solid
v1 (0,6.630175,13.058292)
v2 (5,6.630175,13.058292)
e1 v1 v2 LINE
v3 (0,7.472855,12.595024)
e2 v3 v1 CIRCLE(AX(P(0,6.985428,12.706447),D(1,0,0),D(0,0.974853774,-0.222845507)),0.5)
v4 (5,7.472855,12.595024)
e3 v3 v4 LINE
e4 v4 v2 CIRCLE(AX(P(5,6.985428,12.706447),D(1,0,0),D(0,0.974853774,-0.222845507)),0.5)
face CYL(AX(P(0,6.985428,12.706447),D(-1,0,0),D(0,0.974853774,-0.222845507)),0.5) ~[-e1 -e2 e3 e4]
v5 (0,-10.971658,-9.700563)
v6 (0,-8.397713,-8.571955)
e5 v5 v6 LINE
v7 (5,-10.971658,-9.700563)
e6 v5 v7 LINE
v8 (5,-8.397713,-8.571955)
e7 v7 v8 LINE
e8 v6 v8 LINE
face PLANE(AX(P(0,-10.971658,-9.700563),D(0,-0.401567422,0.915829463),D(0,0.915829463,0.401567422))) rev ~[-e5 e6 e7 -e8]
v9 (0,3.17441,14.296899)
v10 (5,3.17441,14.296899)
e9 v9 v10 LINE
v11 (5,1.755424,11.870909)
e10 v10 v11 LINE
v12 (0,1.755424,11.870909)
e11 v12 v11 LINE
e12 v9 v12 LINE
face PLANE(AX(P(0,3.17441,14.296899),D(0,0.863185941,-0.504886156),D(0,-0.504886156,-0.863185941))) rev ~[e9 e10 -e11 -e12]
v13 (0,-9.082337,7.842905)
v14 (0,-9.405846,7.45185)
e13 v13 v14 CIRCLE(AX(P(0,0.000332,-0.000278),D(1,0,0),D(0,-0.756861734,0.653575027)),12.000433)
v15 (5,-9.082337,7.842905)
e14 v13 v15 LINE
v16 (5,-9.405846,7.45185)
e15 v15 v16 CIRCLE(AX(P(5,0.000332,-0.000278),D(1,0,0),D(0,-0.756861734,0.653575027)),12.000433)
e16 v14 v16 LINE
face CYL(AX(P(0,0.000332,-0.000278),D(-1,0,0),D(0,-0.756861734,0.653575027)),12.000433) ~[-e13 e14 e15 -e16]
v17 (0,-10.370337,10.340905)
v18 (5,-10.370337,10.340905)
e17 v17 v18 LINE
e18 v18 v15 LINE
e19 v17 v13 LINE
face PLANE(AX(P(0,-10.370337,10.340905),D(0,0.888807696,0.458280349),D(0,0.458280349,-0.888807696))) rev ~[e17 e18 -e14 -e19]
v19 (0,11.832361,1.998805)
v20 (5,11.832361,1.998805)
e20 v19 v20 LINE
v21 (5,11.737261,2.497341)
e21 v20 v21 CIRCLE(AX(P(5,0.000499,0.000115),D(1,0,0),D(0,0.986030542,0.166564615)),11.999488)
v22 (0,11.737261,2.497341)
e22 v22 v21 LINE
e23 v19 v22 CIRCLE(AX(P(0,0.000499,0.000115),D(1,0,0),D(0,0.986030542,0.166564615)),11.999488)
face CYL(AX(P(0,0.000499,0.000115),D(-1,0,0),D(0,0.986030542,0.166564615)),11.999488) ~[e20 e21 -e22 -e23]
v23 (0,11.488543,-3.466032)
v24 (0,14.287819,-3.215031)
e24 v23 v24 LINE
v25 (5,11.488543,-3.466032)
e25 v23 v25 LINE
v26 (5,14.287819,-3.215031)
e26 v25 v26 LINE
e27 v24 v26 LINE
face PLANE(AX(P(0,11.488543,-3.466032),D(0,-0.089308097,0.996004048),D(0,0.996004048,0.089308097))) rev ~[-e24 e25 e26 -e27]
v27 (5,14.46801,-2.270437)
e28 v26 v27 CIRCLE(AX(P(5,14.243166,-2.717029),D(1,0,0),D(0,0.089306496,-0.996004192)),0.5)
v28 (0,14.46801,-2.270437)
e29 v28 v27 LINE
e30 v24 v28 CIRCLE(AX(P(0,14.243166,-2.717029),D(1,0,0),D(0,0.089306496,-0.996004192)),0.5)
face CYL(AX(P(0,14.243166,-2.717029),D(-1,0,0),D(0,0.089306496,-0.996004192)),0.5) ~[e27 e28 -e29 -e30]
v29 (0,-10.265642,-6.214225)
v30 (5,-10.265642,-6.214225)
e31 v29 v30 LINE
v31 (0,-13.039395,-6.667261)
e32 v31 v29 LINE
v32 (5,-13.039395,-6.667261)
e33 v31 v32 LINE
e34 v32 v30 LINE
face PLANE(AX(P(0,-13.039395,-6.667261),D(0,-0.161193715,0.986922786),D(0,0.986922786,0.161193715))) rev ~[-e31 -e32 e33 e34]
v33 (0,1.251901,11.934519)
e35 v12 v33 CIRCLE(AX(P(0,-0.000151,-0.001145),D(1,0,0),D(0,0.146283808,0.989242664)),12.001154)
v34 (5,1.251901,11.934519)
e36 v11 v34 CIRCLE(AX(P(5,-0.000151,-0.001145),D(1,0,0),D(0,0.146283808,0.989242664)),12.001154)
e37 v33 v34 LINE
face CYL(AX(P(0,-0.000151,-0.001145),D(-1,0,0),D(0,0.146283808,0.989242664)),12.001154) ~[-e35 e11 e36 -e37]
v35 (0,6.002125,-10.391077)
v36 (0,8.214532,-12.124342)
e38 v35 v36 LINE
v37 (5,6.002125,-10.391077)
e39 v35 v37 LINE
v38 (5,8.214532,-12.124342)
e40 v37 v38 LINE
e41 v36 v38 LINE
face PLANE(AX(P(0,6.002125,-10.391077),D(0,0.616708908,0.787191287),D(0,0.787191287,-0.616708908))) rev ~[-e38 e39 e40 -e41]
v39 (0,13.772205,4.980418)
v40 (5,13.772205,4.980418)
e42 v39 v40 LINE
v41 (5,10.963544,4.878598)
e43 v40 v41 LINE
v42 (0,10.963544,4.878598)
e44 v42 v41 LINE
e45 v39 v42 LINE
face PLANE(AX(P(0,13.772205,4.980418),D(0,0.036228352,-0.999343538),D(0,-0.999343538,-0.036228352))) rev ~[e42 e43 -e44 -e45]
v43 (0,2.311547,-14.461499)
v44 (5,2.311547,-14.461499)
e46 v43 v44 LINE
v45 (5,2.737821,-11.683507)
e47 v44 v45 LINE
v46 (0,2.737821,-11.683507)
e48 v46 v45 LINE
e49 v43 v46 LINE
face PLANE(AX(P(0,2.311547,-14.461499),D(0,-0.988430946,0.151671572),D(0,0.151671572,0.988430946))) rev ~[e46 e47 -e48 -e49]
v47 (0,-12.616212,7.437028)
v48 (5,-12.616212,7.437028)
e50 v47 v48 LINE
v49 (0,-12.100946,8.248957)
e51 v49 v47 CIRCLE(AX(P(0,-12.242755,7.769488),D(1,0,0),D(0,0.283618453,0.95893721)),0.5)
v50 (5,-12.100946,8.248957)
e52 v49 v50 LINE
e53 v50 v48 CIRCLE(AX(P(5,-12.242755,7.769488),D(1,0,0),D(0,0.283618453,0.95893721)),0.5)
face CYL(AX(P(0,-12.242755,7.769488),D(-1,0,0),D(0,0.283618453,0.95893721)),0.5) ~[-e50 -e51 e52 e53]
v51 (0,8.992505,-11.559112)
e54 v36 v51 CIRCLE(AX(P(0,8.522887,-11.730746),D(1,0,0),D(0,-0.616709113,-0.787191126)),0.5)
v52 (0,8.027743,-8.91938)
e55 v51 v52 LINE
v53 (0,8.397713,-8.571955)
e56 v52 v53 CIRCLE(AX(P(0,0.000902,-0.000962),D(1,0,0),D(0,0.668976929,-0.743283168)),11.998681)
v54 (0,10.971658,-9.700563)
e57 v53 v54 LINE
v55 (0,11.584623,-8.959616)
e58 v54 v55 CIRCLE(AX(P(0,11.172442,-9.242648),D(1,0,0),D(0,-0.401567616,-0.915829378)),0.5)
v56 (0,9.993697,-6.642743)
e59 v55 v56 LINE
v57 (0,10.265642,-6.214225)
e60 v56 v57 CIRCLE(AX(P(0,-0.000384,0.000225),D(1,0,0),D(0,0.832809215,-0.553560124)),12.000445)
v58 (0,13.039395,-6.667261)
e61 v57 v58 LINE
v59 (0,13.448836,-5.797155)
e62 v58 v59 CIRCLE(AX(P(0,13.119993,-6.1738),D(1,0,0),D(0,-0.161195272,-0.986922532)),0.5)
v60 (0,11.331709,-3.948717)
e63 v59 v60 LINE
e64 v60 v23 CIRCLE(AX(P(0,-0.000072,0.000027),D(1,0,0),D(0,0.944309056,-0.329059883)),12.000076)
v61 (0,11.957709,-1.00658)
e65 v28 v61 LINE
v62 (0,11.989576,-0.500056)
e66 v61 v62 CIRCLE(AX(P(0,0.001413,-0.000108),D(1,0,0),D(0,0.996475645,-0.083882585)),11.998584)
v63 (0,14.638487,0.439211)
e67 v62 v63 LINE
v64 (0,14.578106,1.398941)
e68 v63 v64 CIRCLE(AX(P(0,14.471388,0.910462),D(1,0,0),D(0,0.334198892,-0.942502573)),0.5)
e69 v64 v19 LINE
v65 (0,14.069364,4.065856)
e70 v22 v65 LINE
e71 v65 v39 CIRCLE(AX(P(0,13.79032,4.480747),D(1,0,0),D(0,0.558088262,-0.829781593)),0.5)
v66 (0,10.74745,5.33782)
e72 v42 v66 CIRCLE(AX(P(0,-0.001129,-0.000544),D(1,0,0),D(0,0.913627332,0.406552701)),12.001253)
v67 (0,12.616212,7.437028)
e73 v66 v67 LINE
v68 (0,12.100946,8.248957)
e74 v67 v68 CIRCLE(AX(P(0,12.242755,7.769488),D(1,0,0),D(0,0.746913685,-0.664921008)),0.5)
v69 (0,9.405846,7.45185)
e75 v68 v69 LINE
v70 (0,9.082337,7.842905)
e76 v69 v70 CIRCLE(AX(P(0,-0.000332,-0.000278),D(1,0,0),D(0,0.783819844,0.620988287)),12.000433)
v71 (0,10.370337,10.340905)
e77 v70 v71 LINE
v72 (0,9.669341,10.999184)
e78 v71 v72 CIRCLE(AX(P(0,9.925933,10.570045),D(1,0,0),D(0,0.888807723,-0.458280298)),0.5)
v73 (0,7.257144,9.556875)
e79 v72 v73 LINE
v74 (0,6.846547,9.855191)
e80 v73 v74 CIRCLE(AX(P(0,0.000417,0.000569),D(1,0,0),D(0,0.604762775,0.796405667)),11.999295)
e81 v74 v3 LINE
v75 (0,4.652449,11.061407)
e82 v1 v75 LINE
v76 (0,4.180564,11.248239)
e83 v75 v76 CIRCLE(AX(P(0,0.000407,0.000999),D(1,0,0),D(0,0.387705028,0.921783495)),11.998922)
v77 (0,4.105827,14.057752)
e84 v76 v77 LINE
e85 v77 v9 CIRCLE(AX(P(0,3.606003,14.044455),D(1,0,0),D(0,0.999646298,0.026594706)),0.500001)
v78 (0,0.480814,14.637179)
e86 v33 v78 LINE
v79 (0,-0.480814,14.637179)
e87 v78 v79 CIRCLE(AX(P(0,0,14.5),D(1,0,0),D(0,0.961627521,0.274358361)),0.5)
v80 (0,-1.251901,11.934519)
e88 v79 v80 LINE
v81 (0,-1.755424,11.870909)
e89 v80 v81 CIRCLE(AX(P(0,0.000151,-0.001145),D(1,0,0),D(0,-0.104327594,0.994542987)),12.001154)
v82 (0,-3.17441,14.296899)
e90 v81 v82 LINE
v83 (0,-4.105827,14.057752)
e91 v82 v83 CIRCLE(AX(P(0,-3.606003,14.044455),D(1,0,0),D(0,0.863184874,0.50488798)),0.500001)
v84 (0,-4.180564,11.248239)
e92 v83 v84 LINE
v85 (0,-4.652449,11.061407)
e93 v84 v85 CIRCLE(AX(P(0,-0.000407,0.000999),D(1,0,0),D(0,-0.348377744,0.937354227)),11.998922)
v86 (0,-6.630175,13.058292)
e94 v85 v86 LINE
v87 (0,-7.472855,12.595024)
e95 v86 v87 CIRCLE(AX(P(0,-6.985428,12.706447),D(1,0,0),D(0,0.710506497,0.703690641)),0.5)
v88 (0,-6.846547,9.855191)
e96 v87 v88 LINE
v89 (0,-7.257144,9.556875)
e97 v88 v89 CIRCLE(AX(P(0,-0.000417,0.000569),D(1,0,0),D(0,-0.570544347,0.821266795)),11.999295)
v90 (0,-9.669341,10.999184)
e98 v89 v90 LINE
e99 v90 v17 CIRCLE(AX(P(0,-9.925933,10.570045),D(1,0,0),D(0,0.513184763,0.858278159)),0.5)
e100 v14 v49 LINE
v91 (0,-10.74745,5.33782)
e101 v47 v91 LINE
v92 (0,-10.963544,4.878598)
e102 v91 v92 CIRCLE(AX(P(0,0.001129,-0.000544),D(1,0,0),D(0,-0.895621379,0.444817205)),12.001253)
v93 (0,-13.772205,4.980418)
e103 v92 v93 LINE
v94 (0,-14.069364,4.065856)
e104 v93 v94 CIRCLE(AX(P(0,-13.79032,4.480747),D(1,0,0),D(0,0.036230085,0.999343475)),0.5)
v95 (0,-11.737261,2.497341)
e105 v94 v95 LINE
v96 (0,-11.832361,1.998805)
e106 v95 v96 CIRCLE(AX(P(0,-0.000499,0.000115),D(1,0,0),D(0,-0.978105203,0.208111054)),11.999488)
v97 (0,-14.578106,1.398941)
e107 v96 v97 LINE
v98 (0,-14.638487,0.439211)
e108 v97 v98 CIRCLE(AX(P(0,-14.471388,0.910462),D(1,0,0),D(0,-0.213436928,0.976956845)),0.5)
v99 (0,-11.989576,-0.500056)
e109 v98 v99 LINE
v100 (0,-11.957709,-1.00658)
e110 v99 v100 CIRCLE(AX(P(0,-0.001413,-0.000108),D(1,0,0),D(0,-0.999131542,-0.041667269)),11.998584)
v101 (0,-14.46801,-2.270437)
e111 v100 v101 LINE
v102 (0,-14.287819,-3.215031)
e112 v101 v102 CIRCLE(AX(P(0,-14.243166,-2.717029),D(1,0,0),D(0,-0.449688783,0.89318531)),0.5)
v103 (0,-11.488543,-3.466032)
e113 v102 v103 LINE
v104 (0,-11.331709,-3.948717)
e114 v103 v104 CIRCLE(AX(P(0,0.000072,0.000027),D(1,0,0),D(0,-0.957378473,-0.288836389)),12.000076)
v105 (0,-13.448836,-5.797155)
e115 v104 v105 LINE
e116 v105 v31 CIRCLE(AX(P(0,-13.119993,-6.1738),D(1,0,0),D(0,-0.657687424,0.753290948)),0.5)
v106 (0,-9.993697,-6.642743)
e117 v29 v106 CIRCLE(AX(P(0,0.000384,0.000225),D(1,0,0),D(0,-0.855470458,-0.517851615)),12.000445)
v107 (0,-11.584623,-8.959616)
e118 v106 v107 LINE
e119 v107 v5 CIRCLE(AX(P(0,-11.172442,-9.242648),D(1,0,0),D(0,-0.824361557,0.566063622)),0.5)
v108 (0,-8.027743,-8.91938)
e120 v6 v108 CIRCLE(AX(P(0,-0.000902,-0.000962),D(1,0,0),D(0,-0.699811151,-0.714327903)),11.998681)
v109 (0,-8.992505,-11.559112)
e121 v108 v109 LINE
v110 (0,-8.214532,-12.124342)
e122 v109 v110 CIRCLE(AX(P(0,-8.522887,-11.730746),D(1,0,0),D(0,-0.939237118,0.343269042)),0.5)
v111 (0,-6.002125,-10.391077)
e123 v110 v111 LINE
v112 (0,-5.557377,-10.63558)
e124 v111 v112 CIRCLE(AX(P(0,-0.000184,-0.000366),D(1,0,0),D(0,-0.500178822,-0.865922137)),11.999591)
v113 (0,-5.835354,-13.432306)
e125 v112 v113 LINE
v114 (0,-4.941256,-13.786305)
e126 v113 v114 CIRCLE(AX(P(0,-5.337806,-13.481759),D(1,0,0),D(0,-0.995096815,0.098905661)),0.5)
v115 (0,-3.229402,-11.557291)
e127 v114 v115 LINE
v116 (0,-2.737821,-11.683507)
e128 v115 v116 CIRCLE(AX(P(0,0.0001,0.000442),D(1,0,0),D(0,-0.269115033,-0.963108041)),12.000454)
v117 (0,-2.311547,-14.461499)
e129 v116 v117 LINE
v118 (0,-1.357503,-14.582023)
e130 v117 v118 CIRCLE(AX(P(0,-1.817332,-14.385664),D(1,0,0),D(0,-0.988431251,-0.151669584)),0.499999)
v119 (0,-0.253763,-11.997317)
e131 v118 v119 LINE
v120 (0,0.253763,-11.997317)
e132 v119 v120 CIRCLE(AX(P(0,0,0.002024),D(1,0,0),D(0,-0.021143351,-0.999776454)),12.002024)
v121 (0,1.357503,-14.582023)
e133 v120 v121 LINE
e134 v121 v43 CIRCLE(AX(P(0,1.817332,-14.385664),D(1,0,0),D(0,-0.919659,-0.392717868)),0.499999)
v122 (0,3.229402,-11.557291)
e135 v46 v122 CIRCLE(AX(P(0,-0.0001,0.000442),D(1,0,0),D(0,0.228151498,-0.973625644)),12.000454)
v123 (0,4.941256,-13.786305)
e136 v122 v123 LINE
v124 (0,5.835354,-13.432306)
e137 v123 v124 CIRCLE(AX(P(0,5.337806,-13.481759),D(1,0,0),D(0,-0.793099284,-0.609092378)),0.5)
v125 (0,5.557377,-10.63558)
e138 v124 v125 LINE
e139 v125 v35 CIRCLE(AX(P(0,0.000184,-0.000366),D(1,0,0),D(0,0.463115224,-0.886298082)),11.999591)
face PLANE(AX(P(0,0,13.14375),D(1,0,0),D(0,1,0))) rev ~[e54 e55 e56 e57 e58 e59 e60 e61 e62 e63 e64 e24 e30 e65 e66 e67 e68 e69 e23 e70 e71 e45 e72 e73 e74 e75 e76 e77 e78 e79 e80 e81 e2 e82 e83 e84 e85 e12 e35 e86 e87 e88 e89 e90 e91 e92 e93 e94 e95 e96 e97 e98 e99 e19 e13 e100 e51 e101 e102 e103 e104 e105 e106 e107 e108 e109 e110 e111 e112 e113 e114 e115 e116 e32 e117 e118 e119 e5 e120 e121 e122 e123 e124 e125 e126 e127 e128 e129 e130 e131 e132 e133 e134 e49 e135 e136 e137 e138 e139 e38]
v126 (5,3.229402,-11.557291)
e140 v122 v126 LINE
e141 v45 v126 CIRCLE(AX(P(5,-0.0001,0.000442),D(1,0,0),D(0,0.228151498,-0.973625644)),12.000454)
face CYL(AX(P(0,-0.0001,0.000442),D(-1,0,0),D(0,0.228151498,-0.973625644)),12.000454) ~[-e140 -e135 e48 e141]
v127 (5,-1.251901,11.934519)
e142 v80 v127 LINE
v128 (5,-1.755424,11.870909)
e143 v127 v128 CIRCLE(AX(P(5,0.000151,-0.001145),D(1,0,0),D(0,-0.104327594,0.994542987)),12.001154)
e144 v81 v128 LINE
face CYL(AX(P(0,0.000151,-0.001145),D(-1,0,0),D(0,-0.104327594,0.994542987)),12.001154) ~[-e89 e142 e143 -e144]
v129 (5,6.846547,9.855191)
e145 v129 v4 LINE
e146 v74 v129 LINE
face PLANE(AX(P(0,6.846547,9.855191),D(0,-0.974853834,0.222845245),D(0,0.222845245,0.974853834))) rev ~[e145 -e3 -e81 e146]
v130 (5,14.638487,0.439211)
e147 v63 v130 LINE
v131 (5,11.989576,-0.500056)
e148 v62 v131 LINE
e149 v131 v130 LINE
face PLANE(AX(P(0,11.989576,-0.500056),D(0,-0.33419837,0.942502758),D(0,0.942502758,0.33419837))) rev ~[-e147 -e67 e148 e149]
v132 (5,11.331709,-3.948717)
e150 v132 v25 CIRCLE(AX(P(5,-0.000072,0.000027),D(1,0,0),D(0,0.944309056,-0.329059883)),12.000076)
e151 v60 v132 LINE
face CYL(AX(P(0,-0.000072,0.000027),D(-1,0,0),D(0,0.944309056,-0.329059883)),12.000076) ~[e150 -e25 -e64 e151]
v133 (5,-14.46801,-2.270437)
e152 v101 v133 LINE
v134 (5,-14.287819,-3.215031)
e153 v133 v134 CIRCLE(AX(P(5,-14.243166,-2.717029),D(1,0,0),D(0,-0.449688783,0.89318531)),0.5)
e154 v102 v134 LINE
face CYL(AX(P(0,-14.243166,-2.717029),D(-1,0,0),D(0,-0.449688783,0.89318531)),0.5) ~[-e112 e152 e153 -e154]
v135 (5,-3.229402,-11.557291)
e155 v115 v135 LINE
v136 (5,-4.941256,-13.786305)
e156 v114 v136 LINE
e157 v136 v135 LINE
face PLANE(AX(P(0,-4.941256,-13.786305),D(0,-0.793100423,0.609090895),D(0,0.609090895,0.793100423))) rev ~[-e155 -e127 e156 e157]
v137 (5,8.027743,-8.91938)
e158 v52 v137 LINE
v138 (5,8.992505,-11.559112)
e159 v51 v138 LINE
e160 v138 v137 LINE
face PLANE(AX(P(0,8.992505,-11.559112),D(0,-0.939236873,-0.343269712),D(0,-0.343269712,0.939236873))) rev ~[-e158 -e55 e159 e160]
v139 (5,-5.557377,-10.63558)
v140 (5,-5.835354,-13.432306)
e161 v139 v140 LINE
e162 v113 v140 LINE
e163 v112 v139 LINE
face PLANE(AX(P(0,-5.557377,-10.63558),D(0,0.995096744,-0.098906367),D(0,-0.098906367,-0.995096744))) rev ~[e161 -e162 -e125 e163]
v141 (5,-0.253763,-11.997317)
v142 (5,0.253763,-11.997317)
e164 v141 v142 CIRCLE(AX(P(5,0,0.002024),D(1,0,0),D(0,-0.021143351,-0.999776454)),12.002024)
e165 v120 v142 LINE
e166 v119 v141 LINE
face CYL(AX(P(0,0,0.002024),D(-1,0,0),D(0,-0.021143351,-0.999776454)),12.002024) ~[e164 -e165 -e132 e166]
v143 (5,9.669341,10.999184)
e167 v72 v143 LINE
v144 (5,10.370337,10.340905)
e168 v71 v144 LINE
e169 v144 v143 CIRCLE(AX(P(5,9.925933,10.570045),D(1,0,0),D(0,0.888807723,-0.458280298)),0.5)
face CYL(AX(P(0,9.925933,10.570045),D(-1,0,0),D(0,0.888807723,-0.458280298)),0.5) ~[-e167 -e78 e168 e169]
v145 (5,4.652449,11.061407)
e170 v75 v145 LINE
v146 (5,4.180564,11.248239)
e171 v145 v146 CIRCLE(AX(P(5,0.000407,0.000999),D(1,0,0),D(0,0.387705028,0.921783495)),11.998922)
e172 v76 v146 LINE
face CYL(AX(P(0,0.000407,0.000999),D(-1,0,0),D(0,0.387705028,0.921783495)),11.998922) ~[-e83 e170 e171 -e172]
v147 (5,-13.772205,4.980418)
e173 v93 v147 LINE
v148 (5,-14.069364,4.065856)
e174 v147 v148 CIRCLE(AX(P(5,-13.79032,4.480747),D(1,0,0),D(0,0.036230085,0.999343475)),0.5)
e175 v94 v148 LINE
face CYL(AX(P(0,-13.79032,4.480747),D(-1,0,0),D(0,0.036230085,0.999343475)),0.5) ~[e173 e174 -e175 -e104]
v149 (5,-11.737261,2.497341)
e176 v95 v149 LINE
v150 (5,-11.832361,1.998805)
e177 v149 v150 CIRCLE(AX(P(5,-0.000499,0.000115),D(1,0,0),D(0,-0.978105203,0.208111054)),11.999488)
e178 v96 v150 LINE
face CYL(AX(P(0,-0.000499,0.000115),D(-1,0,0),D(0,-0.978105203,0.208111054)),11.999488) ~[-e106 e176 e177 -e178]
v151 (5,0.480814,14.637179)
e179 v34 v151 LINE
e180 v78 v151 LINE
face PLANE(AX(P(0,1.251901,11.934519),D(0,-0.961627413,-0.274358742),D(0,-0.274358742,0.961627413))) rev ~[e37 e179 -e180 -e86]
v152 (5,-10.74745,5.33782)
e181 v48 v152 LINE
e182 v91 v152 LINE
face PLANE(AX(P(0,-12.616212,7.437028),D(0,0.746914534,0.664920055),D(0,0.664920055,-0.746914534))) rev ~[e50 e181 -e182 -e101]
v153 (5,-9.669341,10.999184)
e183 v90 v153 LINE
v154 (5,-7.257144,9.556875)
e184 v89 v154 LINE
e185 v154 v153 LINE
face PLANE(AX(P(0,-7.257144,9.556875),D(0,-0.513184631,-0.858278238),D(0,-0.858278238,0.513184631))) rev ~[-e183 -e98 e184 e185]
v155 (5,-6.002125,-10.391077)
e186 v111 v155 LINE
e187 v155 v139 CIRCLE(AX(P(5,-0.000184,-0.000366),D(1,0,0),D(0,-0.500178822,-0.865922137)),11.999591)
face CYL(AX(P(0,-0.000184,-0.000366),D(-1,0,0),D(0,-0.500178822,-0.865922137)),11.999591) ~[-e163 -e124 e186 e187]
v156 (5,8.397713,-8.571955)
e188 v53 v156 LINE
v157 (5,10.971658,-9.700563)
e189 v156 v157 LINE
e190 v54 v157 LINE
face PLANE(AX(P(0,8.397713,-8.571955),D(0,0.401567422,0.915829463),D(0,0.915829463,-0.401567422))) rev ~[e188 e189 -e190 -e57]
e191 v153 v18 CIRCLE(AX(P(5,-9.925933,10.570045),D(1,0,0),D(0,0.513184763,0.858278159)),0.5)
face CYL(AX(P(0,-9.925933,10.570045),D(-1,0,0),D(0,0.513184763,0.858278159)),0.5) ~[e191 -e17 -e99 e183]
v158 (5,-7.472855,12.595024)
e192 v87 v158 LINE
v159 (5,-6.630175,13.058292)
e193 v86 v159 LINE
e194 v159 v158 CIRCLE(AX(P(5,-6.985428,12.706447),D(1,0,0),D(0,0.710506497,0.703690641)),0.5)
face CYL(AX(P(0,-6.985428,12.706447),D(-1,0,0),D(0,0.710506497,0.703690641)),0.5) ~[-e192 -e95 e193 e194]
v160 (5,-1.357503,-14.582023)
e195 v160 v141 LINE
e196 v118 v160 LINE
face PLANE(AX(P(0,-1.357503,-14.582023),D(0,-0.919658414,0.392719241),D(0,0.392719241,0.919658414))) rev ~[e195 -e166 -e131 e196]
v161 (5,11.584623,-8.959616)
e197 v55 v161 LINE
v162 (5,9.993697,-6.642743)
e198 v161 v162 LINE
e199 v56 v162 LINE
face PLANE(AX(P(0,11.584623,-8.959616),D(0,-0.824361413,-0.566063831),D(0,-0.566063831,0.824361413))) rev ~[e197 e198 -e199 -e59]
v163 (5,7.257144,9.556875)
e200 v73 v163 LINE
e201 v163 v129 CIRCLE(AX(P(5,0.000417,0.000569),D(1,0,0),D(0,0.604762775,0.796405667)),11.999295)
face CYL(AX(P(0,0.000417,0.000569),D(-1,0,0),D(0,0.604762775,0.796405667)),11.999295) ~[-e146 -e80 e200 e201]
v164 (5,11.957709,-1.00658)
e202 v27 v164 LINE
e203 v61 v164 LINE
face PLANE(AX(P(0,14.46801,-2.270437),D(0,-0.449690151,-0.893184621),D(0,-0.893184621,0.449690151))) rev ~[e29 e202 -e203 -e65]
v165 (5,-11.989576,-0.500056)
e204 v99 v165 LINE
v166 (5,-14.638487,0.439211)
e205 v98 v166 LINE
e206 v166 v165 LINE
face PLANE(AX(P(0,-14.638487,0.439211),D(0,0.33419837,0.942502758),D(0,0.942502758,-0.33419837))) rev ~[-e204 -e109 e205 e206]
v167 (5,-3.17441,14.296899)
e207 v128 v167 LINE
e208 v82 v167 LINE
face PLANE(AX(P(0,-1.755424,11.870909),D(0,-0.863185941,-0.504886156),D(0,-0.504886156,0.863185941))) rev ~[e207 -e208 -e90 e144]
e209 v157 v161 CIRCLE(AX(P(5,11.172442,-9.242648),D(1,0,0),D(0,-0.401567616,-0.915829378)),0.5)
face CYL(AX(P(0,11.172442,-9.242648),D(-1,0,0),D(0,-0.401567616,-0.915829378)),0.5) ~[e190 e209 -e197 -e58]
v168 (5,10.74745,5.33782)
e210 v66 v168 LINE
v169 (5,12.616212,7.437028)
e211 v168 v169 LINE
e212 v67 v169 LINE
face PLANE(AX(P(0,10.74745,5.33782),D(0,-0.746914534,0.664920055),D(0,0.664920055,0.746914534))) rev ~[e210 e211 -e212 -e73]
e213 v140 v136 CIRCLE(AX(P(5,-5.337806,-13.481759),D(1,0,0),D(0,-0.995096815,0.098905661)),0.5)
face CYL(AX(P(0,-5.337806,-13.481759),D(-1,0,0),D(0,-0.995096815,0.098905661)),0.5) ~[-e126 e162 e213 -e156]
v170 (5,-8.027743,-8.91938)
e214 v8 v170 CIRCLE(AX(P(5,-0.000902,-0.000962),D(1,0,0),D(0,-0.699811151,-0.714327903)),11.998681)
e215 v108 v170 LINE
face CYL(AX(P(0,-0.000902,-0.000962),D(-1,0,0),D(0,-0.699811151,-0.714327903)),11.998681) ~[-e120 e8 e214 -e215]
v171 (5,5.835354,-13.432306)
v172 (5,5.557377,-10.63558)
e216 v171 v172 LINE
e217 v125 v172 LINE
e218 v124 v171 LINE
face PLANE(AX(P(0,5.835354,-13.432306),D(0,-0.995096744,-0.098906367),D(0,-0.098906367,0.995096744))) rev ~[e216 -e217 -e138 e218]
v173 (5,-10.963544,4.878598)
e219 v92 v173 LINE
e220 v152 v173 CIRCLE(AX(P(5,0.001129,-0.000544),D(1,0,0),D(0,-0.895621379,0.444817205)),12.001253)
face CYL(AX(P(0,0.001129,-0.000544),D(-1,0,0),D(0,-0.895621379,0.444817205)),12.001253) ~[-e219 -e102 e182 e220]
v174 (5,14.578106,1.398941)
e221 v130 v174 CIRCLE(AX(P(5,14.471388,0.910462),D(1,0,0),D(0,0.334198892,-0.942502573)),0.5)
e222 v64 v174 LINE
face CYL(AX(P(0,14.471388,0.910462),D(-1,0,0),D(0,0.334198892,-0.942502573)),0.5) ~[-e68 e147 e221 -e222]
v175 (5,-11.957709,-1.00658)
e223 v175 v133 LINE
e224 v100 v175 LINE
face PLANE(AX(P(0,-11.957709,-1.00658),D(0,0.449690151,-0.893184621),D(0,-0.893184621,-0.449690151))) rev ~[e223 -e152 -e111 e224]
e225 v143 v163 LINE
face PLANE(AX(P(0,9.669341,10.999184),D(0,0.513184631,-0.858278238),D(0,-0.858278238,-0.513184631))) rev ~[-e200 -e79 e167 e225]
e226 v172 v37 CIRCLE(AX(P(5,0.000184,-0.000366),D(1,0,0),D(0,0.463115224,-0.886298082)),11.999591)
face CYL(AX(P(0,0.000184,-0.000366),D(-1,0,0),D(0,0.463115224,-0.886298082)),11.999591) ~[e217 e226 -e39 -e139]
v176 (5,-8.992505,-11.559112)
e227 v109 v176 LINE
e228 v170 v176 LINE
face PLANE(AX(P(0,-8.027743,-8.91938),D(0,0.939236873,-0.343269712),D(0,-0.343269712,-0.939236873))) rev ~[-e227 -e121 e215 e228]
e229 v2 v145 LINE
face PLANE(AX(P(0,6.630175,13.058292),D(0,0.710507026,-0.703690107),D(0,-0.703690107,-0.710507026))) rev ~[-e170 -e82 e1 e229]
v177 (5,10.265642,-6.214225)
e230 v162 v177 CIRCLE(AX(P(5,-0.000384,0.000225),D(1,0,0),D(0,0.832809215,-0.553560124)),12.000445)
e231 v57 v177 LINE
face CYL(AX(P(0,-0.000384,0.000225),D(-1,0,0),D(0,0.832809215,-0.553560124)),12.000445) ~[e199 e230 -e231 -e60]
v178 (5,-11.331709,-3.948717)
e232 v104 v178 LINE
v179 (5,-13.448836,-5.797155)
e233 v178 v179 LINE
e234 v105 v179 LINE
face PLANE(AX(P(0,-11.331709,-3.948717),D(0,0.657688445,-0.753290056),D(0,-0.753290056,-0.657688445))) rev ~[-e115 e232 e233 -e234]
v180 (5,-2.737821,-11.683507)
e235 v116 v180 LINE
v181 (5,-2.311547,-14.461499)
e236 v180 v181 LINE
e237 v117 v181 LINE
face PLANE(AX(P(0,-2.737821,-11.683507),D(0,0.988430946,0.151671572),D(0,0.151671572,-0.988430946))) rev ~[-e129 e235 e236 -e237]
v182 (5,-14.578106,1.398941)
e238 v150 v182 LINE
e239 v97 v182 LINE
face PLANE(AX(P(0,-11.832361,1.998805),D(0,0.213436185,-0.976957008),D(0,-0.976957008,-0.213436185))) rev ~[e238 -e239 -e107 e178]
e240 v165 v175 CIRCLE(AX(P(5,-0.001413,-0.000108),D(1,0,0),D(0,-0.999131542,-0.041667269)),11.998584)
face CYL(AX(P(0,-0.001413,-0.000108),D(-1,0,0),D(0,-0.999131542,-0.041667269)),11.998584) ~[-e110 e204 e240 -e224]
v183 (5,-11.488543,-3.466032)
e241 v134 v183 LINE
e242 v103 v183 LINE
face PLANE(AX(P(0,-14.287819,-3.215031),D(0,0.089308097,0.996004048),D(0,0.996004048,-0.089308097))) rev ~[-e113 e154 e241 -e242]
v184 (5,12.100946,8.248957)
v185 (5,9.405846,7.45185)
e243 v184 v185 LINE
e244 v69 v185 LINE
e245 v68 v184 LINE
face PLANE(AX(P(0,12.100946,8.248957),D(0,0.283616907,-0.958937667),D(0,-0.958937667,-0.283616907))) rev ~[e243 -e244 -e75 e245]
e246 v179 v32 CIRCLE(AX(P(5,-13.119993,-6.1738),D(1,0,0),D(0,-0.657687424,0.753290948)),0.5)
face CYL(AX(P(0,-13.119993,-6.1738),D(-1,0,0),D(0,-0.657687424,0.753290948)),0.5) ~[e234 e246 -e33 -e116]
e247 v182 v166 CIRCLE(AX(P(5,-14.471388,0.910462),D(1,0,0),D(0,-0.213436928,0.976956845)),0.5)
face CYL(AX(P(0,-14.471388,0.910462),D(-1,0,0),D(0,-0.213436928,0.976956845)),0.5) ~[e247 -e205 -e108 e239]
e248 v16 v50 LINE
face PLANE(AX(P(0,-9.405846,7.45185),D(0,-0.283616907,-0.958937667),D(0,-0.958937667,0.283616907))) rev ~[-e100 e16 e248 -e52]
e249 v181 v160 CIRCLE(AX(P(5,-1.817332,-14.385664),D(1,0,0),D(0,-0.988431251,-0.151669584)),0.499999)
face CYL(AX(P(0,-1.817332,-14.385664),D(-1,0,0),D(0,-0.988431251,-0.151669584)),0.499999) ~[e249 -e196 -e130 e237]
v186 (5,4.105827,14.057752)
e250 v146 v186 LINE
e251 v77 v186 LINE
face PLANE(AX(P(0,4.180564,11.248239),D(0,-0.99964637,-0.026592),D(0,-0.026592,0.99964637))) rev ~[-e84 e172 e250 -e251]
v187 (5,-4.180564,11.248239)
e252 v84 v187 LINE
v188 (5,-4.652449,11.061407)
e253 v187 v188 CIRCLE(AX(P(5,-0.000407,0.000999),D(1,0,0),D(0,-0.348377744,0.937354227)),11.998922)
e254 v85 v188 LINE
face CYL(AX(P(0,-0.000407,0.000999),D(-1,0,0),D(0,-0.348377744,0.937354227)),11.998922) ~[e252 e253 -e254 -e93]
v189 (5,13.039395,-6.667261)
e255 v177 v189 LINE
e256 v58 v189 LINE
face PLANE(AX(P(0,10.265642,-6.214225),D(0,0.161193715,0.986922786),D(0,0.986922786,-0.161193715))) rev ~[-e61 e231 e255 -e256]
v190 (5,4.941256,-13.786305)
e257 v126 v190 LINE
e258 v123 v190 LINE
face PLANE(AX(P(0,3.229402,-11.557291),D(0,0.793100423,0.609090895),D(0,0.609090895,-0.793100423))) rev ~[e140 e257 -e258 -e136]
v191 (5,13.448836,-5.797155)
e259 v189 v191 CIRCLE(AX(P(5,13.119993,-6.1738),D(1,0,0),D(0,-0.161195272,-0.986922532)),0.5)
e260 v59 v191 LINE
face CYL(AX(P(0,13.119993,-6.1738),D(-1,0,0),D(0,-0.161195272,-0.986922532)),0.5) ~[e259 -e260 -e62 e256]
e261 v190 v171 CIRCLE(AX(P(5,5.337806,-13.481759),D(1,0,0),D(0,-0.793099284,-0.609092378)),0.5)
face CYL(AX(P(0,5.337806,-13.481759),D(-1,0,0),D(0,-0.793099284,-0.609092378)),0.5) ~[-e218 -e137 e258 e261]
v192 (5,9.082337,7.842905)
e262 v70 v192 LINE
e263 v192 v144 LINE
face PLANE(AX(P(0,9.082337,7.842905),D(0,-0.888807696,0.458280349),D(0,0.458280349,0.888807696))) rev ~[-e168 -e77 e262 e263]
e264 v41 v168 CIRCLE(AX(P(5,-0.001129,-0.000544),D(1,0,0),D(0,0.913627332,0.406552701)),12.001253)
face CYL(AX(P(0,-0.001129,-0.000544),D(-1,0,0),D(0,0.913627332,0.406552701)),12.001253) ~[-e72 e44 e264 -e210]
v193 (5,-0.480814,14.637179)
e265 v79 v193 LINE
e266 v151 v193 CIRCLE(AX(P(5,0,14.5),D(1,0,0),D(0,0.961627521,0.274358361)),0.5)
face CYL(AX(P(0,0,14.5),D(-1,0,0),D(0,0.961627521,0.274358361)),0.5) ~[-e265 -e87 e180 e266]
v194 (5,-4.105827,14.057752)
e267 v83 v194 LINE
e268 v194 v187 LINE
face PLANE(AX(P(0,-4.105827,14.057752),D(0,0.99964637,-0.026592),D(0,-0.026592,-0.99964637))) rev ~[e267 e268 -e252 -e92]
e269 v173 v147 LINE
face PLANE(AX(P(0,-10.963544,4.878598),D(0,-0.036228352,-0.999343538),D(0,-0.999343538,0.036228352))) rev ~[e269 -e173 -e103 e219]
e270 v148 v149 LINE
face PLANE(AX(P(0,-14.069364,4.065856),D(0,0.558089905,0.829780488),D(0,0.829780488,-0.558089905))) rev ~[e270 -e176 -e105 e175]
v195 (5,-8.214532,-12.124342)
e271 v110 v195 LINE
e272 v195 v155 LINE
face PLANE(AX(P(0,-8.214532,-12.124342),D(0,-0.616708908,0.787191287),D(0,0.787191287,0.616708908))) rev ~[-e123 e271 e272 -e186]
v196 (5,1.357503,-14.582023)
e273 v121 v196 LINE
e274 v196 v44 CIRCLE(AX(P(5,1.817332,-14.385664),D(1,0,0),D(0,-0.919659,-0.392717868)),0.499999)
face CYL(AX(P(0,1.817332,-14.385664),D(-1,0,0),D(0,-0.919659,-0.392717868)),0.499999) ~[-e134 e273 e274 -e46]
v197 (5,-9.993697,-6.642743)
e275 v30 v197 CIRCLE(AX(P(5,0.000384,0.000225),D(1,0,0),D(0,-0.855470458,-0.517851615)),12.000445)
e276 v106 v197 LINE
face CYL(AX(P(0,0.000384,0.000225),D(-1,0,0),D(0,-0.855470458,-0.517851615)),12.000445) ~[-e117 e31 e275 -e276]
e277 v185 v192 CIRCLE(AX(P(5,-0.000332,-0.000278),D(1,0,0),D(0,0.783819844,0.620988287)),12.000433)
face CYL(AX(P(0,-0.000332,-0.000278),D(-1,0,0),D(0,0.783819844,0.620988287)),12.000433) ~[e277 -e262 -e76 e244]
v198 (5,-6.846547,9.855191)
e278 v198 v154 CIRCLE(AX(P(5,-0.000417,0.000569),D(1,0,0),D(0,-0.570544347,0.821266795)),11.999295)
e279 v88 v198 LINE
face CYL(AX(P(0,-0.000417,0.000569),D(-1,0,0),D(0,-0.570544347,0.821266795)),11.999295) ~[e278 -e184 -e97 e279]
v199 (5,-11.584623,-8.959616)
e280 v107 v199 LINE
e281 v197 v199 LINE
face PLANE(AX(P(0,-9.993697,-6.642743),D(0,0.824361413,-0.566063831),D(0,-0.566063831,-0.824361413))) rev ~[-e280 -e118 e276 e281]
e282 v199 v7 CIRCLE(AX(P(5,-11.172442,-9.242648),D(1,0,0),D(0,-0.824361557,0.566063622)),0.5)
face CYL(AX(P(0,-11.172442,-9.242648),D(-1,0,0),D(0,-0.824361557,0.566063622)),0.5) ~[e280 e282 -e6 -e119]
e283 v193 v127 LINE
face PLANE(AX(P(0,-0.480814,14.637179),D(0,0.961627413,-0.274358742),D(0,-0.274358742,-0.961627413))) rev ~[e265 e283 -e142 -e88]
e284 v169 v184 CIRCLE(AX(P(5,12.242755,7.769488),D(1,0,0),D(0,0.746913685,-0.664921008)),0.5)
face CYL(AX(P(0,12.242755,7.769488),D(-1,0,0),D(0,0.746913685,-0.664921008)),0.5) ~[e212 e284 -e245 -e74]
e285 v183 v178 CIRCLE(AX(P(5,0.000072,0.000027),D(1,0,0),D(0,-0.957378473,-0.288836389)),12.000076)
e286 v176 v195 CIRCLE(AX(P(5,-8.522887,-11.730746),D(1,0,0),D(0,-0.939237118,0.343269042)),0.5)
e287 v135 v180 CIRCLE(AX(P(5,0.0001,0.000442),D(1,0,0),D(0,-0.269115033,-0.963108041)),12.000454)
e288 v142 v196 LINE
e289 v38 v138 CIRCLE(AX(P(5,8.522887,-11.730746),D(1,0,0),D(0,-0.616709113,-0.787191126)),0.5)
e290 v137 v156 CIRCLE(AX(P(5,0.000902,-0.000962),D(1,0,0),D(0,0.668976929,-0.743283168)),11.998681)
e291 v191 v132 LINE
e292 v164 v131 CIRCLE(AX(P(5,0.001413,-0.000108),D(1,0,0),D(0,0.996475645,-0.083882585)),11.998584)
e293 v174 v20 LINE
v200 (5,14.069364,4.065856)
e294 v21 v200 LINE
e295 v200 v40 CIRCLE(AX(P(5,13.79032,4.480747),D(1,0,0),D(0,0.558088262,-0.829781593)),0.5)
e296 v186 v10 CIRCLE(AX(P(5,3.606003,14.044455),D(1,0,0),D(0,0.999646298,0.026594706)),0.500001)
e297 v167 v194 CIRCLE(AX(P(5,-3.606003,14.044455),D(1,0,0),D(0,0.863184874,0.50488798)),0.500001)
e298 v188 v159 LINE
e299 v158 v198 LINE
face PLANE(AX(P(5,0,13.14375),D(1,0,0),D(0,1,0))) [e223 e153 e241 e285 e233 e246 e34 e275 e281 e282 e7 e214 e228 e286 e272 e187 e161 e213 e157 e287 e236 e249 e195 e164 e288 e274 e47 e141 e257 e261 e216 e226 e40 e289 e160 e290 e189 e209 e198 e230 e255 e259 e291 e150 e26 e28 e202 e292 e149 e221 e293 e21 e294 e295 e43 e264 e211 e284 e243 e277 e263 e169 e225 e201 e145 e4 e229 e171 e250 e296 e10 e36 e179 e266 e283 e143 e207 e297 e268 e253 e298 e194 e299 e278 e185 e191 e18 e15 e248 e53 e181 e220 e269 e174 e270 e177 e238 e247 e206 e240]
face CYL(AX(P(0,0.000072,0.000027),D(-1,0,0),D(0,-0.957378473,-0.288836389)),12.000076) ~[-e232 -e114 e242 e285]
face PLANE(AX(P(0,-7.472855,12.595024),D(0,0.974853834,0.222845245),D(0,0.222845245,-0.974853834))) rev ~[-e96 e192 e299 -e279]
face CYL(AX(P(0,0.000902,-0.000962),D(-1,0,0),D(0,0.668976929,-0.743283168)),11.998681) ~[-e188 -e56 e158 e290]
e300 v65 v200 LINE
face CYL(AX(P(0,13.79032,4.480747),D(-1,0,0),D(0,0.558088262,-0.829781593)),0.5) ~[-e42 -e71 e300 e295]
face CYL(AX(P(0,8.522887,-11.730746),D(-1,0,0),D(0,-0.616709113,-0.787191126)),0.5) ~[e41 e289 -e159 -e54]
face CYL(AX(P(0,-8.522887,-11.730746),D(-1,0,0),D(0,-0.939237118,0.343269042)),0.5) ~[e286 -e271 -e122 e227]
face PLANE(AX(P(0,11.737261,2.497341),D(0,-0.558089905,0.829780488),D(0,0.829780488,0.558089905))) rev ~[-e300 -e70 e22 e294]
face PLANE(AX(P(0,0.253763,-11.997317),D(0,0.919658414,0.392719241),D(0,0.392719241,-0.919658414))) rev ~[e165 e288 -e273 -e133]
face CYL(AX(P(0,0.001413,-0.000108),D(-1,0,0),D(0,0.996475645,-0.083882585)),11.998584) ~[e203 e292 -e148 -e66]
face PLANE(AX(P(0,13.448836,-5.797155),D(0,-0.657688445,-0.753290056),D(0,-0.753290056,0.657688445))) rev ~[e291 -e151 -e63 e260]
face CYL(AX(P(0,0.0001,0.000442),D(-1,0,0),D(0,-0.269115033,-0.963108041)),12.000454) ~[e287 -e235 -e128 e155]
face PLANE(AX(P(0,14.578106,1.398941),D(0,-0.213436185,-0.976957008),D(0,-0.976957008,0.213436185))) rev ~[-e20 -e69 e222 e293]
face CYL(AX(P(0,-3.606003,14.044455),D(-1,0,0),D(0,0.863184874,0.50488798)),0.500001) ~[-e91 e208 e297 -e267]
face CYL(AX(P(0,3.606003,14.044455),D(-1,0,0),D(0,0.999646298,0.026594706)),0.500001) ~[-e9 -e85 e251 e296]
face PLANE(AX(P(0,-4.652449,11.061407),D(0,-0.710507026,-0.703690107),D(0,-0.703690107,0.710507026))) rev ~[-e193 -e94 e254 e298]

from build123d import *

# Parameters (mm, degrees)
F1_DEPTH = 5


with BuildPart() as f1:
    # F0 (on Right) → F1 (new body)
    with BuildSketch(Plane.YZ):
        with BuildLine():
            Line((1.251901, 11.934519), (0.480814, 14.637179))
            ThreePointArc((0.480814, 14.637179), (0, 15), (-0.480814, 14.637179))
            Line((-0.480814, 14.637179), (-1.251901, 11.934519))
            ThreePointArc((-1.251901, 11.934519), (0, 12), (1.251901, 11.934519))
        make_face()
        with BuildLine():
            ThreePointArc((1.755424, 11.870909), (1.503999, 11.905376), (1.251901, 11.934519))
            ThreePointArc((1.251901, 11.934519), (0, 12), (-1.251901, 11.934519))
            ThreePointArc((-1.251901, 11.934519), (-1.503999, 11.905376), (-1.755424, 11.870909))
            ThreePointArc((-1.755424, 11.870909), (-2.984279, 11.622998), (-4.180564, 11.248239))
            ThreePointArc((-4.180564, 11.248239), (-4.417495, 11.157318), (-4.652449, 11.061407))
            ThreePointArc((-4.652449, 11.061407), (-5.781044, 10.51568), (-6.846547, 9.855191))
            ThreePointArc((-6.846547, 9.855191), (-7.053423, 9.708204), (-7.257144, 9.556875))
            ThreePointArc((-7.257144, 9.556875), (-8.214565, 8.747624), (-9.082337, 7.842905))
            ThreePointArc((-9.082337, 7.842905), (-9.246159, 7.649088), (-9.405846, 7.45185))
            ThreePointArc((-9.405846, 7.45185), (-10.131935, 6.429922), (-10.74745, 5.33782))
            ThreePointArc((-10.74745, 5.33782), (-10.857925, 5.109351), (-10.963544, 4.878598))
            ThreePointArc((-10.963544, 4.878598), (-11.412678, 3.708204), (-11.737261, 2.497341))
            ThreePointArc((-11.737261, 2.497341), (-11.787447, 2.248576), (-11.832361, 1.998805))
            ThreePointArc((-11.832361, 1.998805), (-11.976321, 0.753486), (-11.989576, -0.500056))
            ThreePointArc((-11.989576, -0.500056), (-11.976321, -0.753486), (-11.957709, -1.00658))
            ThreePointArc((-11.957709, -1.00658), (-11.787447, -2.248576), (-11.488543, -3.466032))
            ThreePointArc((-11.488543, -3.466032), (-11.412678, -3.708204), (-11.331709, -3.948717))
            ThreePointArc((-11.331709, -3.948717), (-10.857925, -5.109351), (-10.265642, -6.214225))
            ThreePointArc((-10.265642, -6.214225), (-10.131935, -6.429922), (-9.993697, -6.642743))
            ThreePointArc((-9.993697, -6.642743), (-9.246159, -7.649088), (-8.397713, -8.571955))
            ThreePointArc((-8.397713, -8.571955), (-8.214565, -8.747624), (-8.027743, -8.91938))
            ThreePointArc((-8.027743, -8.91938), (-7.053423, -9.708204), (-6.002125, -10.391077))
            ThreePointArc((-6.002125, -10.391077), (-5.781044, -10.51568), (-5.557377, -10.63558))
            ThreePointArc((-5.557377, -10.63558), (-4.417495, -11.157318), (-3.229402, -11.557291))
            ThreePointArc((-3.229402, -11.557291), (-2.984279, -11.622998), (-2.737821, -11.683507))
            ThreePointArc((-2.737821, -11.683507), (-1.503999, -11.905376), (-0.253763, -11.997317))
            ThreePointArc((-0.253763, -11.997317), (0, -12), (0.253763, -11.997317))
            ThreePointArc((0.253763, -11.997317), (1.503999, -11.905376), (2.737821, -11.683507))
            ThreePointArc((2.737821, -11.683507), (2.984279, -11.622998), (3.229402, -11.557291))
            ThreePointArc((3.229402, -11.557291), (4.417495, -11.157318), (5.557377, -10.63558))
            ThreePointArc((5.557377, -10.63558), (5.781044, -10.51568), (6.002125, -10.391077))
            ThreePointArc((6.002125, -10.391077), (7.053423, -9.708204), (8.027743, -8.91938))
            ThreePointArc((8.027743, -8.91938), (8.214565, -8.747624), (8.397713, -8.571955))
            ThreePointArc((8.397713, -8.571955), (9.246159, -7.649088), (9.993697, -6.642743))
            ThreePointArc((9.993697, -6.642743), (10.131935, -6.429922), (10.265642, -6.214225))
            ThreePointArc((10.265642, -6.214225), (10.857925, -5.109351), (11.331709, -3.948717))
            ThreePointArc((11.331709, -3.948717), (11.412678, -3.708204), (11.488543, -3.466032))
            ThreePointArc((11.488543, -3.466032), (11.787447, -2.248576), (11.957709, -1.00658))
            ThreePointArc((11.957709, -1.00658), (11.976321, -0.753486), (11.989576, -0.500056))
            ThreePointArc((11.989576, -0.500056), (11.997394, -0.250082), (12, 0))
            ThreePointArc((12, 0), (11.958017, 1.002911), (11.832361, 1.998805))
            ThreePointArc((11.832361, 1.998805), (11.787447, 2.248576), (11.737261, 2.497341))
            ThreePointArc((11.737261, 2.497341), (11.412678, 3.708204), (10.963544, 4.878598))
            ThreePointArc((10.963544, 4.878598), (10.857925, 5.109351), (10.74745, 5.33782))
            ThreePointArc((10.74745, 5.33782), (10.131935, 6.429922), (9.405846, 7.45185))
            ThreePointArc((9.405846, 7.45185), (9.246159, 7.649088), (9.082337, 7.842905))
            ThreePointArc((9.082337, 7.842905), (8.214565, 8.747624), (7.257144, 9.556875))
            ThreePointArc((7.257144, 9.556875), (7.053423, 9.708204), (6.846547, 9.855191))
            ThreePointArc((6.846547, 9.855191), (5.781044, 10.51568), (4.652449, 11.061407))
            ThreePointArc((4.652449, 11.061407), (4.417495, 11.157318), (4.180564, 11.248239))
            ThreePointArc((4.180564, 11.248239), (2.984279, 11.622998), (1.755424, 11.870909))
        make_face()
        with BuildLine():
            Line((3.17441, 14.296899), (1.755424, 11.870909))
            ThreePointArc((1.755424, 11.870909), (2.984279, 11.622998), (4.180564, 11.248239))
            Line((4.180564, 11.248239), (4.105827, 14.057752))
            ThreePointArc((4.105827, 14.057752), (3.730348, 14.528747), (3.17441, 14.296899))
        make_face()
        with BuildLine():
            ThreePointArc((-4.180564, 11.248239), (-2.984279, 11.622998), (-1.755424, 11.870909))
            Line((-1.755424, 11.870909), (-3.17441, 14.296899))
            ThreePointArc((-3.17441, 14.296899), (-3.730348, 14.528747), (-4.105827, 14.057752))
            Line((-4.105827, 14.057752), (-4.180564, 11.248239))
        make_face()
        with BuildLine():
            Line((6.630175, 13.058292), (4.652449, 11.061407))
            ThreePointArc((4.652449, 11.061407), (5.781044, 10.51568), (6.846547, 9.855191))
            Line((6.846547, 9.855191), (7.472855, 12.595024))
            ThreePointArc((7.472855, 12.595024), (7.226305, 13.1446), (6.630175, 13.058292))
        make_face()
        with BuildLine():
            ThreePointArc((-6.846547, 9.855191), (-5.781044, 10.51568), (-4.652449, 11.061407))
            Line((-4.652449, 11.061407), (-6.630175, 13.058292))
            ThreePointArc((-6.630175, 13.058292), (-7.226305, 13.1446), (-7.472855, 12.595024))
            Line((-7.472855, 12.595024), (-6.846547, 9.855191))
        make_face()
        with BuildLine():
            Line((9.669341, 10.999184), (7.257144, 9.556875))
            ThreePointArc((7.257144, 9.556875), (8.214565, 8.747624), (9.082337, 7.842905))
            Line((9.082337, 7.842905), (10.370337, 10.340905))
            ThreePointArc((10.370337, 10.340905), (10.268207, 10.934529), (9.669341, 10.999184))
        make_face()
        with BuildLine():
            ThreePointArc((-9.082337, 7.842905), (-8.214565, 8.747624), (-7.257144, 9.556875))
            Line((-7.257144, 9.556875), (-9.669341, 10.999184))
            ThreePointArc((-9.669341, 10.999184), (-10.268207, 10.934529), (-10.370337, 10.340905))
            Line((-10.370337, 10.340905), (-9.082337, 7.842905))
        make_face()
        with BuildLine():
            Line((12.100946, 8.248957), (9.405846, 7.45185))
            ThreePointArc((9.405846, 7.45185), (10.131935, 6.429922), (10.74745, 5.33782))
            Line((10.74745, 5.33782), (12.616212, 7.437028))
            ThreePointArc((12.616212, 7.437028), (12.664919, 8.037402), (12.100946, 8.248957))
        make_face()
        with BuildLine():
            ThreePointArc((-10.74745, 5.33782), (-10.131935, 6.429922), (-9.405846, 7.45185))
            Line((-9.405846, 7.45185), (-12.100946, 8.248957))
            ThreePointArc((-12.100946, 8.248957), (-12.664919, 8.037402), (-12.616212, 7.437028))
            Line((-12.616212, 7.437028), (-10.74745, 5.33782))
        make_face()
        with BuildLine():
            Line((13.772205, 4.980418), (10.963544, 4.878598))
            ThreePointArc((10.963544, 4.878598), (11.412678, 3.708204), (11.737261, 2.497341))
            Line((11.737261, 2.497341), (14.069364, 4.065856))
            ThreePointArc((14.069364, 4.065856), (14.265848, 4.635255), (13.772205, 4.980418))
        make_face()
        with BuildLine():
            ThreePointArc((-11.737261, 2.497341), (-11.412678, 3.708204), (-10.963544, 4.878598))
            Line((-10.963544, 4.878598), (-13.772205, 4.980418))
            ThreePointArc((-13.772205, 4.980418), (-14.265848, 4.635255), (-14.069364, 4.065856))
            Line((-14.069364, 4.065856), (-11.737261, 2.497341))
        make_face()
        with BuildLine():
            Line((14.578106, 1.398941), (11.832361, 1.998805))
            ThreePointArc((11.832361, 1.998805), (11.958017, 1.002911), (12, 0))
            ThreePointArc((12, 0), (11.997394, -0.250082), (11.989576, -0.500056))
            Line((11.989576, -0.500056), (14.638487, 0.439211))
            ThreePointArc((14.638487, 0.439211), (14.970401, 0.941858), (14.578106, 1.398941))
        make_face()
        with BuildLine():
            ThreePointArc((-11.989576, -0.500056), (-11.976321, 0.753486), (-11.832361, 1.998805))
            Line((-11.832361, 1.998805), (-14.578106, 1.398941))
            ThreePointArc((-14.578106, 1.398941), (-14.970401, 0.941858), (-14.638487, 0.439211))
            Line((-14.638487, 0.439211), (-11.989576, -0.500056))
        make_face()
        with BuildLine():
            ThreePointArc((-11.488543, -3.466032), (-11.787447, -2.248576), (-11.957709, -1.00658))
            Line((-11.957709, -1.00658), (-14.46801, -2.270437))
            ThreePointArc((-14.46801, -2.270437), (-14.734309, -2.81072), (-14.287819, -3.215031))
            Line((-14.287819, -3.215031), (-11.488543, -3.466032))
        make_face()
        with BuildLine():
            Line((14.46801, -2.270437), (11.957709, -1.00658))
            ThreePointArc((11.957709, -1.00658), (11.787447, -2.248576), (11.488543, -3.466032))
            Line((11.488543, -3.466032), (14.287819, -3.215031))
            ThreePointArc((14.287819, -3.215031), (14.734309, -2.81072), (14.46801, -2.270437))
        make_face()
        with BuildLine():
            ThreePointArc((-10.265642, -6.214225), (-10.857925, -5.109351), (-11.331709, -3.948717))
            Line((-11.331709, -3.948717), (-13.448836, -5.797155))
            ThreePointArc((-13.448836, -5.797155), (-13.572406, -6.386689), (-13.039395, -6.667261))
            Line((-13.039395, -6.667261), (-10.265642, -6.214225))
        make_face()
        with BuildLine():
            Line((13.448836, -5.797155), (11.331709, -3.948717))
            ThreePointArc((11.331709, -3.948717), (10.857925, -5.109351), (10.265642, -6.214225))
            Line((10.265642, -6.214225), (13.039395, -6.667261))
            ThreePointArc((13.039395, -6.667261), (13.572406, -6.386689), (13.448836, -5.797155))
        make_face()
        with BuildLine():
            ThreePointArc((-8.397713, -8.571955), (-9.246159, -7.649088), (-9.993697, -6.642743))
            Line((-9.993697, -6.642743), (-11.584623, -8.959616))
            ThreePointArc((-11.584623, -8.959616), (-11.557699, -9.56136), (-10.971658, -9.700563))
            Line((-10.971658, -9.700563), (-8.397713, -8.571955))
        make_face()
        with BuildLine():
            Line((11.584623, -8.959616), (9.993697, -6.642743))
            ThreePointArc((9.993697, -6.642743), (9.246159, -7.649088), (8.397713, -8.571955))
            Line((8.397713, -8.571955), (10.971658, -9.700563))
            ThreePointArc((10.971658, -9.700563), (11.557699, -9.56136), (11.584623, -8.959616))
        make_face()
        with BuildLine():
            ThreePointArc((-6.002125, -10.391077), (-7.053423, -9.708204), (-8.027743, -8.91938))
            Line((-8.027743, -8.91938), (-8.992505, -11.559112))
            ThreePointArc((-8.992505, -11.559112), (-8.816779, -12.135255), (-8.214532, -12.124342))
            Line((-8.214532, -12.124342), (-6.002125, -10.391077))
        make_face()
        with BuildLine():
            Line((8.992505, -11.559112), (8.027743, -8.91938))
            ThreePointArc((8.027743, -8.91938), (7.053423, -9.708204), (6.002125, -10.391077))
            Line((6.002125, -10.391077), (8.214532, -12.124342))
            ThreePointArc((8.214532, -12.124342), (8.816779, -12.135255), (8.992505, -11.559112))
        make_face()
        with BuildLine():
            ThreePointArc((-3.229402, -11.557291), (-4.417495, -11.157318), (-5.557377, -10.63558))
            Line((-5.557377, -10.63558), (-5.835354, -13.432306))
            ThreePointArc((-5.835354, -13.432306), (-5.521868, -13.946647), (-4.941256, -13.786305))
            Line((-4.941256, -13.786305), (-3.229402, -11.557291))
        make_face()
        with BuildLine():
            Line((5.835354, -13.432306), (5.557377, -10.63558))
            ThreePointArc((5.557377, -10.63558), (4.417495, -11.157318), (3.229402, -11.557291))
            Line((3.229402, -11.557291), (4.941256, -13.786305))
            ThreePointArc((4.941256, -13.786305), (5.521868, -13.946647), (5.835354, -13.432306))
        make_face()
        with BuildLine():
            ThreePointArc((-0.253763, -11.997317), (-1.503999, -11.905376), (-2.737821, -11.683507))
            Line((-2.737821, -11.683507), (-2.311547, -14.461499))
            ThreePointArc((-2.311547, -14.461499), (-1.879999, -14.881721), (-1.357503, -14.582023))
            Line((-1.357503, -14.582023), (-0.253763, -11.997317))
        make_face()
        with BuildLine():
            Line((2.311547, -14.461499), (2.737821, -11.683507))
            ThreePointArc((2.737821, -11.683507), (1.503999, -11.905376), (0.253763, -11.997317))
            Line((0.253763, -11.997317), (1.357503, -14.582023))
            ThreePointArc((1.357503, -14.582023), (1.879999, -14.881721), (2.311547, -14.461499))
        make_face()
    extrude(amount=F1_DEPTH)


solid = f1.part
